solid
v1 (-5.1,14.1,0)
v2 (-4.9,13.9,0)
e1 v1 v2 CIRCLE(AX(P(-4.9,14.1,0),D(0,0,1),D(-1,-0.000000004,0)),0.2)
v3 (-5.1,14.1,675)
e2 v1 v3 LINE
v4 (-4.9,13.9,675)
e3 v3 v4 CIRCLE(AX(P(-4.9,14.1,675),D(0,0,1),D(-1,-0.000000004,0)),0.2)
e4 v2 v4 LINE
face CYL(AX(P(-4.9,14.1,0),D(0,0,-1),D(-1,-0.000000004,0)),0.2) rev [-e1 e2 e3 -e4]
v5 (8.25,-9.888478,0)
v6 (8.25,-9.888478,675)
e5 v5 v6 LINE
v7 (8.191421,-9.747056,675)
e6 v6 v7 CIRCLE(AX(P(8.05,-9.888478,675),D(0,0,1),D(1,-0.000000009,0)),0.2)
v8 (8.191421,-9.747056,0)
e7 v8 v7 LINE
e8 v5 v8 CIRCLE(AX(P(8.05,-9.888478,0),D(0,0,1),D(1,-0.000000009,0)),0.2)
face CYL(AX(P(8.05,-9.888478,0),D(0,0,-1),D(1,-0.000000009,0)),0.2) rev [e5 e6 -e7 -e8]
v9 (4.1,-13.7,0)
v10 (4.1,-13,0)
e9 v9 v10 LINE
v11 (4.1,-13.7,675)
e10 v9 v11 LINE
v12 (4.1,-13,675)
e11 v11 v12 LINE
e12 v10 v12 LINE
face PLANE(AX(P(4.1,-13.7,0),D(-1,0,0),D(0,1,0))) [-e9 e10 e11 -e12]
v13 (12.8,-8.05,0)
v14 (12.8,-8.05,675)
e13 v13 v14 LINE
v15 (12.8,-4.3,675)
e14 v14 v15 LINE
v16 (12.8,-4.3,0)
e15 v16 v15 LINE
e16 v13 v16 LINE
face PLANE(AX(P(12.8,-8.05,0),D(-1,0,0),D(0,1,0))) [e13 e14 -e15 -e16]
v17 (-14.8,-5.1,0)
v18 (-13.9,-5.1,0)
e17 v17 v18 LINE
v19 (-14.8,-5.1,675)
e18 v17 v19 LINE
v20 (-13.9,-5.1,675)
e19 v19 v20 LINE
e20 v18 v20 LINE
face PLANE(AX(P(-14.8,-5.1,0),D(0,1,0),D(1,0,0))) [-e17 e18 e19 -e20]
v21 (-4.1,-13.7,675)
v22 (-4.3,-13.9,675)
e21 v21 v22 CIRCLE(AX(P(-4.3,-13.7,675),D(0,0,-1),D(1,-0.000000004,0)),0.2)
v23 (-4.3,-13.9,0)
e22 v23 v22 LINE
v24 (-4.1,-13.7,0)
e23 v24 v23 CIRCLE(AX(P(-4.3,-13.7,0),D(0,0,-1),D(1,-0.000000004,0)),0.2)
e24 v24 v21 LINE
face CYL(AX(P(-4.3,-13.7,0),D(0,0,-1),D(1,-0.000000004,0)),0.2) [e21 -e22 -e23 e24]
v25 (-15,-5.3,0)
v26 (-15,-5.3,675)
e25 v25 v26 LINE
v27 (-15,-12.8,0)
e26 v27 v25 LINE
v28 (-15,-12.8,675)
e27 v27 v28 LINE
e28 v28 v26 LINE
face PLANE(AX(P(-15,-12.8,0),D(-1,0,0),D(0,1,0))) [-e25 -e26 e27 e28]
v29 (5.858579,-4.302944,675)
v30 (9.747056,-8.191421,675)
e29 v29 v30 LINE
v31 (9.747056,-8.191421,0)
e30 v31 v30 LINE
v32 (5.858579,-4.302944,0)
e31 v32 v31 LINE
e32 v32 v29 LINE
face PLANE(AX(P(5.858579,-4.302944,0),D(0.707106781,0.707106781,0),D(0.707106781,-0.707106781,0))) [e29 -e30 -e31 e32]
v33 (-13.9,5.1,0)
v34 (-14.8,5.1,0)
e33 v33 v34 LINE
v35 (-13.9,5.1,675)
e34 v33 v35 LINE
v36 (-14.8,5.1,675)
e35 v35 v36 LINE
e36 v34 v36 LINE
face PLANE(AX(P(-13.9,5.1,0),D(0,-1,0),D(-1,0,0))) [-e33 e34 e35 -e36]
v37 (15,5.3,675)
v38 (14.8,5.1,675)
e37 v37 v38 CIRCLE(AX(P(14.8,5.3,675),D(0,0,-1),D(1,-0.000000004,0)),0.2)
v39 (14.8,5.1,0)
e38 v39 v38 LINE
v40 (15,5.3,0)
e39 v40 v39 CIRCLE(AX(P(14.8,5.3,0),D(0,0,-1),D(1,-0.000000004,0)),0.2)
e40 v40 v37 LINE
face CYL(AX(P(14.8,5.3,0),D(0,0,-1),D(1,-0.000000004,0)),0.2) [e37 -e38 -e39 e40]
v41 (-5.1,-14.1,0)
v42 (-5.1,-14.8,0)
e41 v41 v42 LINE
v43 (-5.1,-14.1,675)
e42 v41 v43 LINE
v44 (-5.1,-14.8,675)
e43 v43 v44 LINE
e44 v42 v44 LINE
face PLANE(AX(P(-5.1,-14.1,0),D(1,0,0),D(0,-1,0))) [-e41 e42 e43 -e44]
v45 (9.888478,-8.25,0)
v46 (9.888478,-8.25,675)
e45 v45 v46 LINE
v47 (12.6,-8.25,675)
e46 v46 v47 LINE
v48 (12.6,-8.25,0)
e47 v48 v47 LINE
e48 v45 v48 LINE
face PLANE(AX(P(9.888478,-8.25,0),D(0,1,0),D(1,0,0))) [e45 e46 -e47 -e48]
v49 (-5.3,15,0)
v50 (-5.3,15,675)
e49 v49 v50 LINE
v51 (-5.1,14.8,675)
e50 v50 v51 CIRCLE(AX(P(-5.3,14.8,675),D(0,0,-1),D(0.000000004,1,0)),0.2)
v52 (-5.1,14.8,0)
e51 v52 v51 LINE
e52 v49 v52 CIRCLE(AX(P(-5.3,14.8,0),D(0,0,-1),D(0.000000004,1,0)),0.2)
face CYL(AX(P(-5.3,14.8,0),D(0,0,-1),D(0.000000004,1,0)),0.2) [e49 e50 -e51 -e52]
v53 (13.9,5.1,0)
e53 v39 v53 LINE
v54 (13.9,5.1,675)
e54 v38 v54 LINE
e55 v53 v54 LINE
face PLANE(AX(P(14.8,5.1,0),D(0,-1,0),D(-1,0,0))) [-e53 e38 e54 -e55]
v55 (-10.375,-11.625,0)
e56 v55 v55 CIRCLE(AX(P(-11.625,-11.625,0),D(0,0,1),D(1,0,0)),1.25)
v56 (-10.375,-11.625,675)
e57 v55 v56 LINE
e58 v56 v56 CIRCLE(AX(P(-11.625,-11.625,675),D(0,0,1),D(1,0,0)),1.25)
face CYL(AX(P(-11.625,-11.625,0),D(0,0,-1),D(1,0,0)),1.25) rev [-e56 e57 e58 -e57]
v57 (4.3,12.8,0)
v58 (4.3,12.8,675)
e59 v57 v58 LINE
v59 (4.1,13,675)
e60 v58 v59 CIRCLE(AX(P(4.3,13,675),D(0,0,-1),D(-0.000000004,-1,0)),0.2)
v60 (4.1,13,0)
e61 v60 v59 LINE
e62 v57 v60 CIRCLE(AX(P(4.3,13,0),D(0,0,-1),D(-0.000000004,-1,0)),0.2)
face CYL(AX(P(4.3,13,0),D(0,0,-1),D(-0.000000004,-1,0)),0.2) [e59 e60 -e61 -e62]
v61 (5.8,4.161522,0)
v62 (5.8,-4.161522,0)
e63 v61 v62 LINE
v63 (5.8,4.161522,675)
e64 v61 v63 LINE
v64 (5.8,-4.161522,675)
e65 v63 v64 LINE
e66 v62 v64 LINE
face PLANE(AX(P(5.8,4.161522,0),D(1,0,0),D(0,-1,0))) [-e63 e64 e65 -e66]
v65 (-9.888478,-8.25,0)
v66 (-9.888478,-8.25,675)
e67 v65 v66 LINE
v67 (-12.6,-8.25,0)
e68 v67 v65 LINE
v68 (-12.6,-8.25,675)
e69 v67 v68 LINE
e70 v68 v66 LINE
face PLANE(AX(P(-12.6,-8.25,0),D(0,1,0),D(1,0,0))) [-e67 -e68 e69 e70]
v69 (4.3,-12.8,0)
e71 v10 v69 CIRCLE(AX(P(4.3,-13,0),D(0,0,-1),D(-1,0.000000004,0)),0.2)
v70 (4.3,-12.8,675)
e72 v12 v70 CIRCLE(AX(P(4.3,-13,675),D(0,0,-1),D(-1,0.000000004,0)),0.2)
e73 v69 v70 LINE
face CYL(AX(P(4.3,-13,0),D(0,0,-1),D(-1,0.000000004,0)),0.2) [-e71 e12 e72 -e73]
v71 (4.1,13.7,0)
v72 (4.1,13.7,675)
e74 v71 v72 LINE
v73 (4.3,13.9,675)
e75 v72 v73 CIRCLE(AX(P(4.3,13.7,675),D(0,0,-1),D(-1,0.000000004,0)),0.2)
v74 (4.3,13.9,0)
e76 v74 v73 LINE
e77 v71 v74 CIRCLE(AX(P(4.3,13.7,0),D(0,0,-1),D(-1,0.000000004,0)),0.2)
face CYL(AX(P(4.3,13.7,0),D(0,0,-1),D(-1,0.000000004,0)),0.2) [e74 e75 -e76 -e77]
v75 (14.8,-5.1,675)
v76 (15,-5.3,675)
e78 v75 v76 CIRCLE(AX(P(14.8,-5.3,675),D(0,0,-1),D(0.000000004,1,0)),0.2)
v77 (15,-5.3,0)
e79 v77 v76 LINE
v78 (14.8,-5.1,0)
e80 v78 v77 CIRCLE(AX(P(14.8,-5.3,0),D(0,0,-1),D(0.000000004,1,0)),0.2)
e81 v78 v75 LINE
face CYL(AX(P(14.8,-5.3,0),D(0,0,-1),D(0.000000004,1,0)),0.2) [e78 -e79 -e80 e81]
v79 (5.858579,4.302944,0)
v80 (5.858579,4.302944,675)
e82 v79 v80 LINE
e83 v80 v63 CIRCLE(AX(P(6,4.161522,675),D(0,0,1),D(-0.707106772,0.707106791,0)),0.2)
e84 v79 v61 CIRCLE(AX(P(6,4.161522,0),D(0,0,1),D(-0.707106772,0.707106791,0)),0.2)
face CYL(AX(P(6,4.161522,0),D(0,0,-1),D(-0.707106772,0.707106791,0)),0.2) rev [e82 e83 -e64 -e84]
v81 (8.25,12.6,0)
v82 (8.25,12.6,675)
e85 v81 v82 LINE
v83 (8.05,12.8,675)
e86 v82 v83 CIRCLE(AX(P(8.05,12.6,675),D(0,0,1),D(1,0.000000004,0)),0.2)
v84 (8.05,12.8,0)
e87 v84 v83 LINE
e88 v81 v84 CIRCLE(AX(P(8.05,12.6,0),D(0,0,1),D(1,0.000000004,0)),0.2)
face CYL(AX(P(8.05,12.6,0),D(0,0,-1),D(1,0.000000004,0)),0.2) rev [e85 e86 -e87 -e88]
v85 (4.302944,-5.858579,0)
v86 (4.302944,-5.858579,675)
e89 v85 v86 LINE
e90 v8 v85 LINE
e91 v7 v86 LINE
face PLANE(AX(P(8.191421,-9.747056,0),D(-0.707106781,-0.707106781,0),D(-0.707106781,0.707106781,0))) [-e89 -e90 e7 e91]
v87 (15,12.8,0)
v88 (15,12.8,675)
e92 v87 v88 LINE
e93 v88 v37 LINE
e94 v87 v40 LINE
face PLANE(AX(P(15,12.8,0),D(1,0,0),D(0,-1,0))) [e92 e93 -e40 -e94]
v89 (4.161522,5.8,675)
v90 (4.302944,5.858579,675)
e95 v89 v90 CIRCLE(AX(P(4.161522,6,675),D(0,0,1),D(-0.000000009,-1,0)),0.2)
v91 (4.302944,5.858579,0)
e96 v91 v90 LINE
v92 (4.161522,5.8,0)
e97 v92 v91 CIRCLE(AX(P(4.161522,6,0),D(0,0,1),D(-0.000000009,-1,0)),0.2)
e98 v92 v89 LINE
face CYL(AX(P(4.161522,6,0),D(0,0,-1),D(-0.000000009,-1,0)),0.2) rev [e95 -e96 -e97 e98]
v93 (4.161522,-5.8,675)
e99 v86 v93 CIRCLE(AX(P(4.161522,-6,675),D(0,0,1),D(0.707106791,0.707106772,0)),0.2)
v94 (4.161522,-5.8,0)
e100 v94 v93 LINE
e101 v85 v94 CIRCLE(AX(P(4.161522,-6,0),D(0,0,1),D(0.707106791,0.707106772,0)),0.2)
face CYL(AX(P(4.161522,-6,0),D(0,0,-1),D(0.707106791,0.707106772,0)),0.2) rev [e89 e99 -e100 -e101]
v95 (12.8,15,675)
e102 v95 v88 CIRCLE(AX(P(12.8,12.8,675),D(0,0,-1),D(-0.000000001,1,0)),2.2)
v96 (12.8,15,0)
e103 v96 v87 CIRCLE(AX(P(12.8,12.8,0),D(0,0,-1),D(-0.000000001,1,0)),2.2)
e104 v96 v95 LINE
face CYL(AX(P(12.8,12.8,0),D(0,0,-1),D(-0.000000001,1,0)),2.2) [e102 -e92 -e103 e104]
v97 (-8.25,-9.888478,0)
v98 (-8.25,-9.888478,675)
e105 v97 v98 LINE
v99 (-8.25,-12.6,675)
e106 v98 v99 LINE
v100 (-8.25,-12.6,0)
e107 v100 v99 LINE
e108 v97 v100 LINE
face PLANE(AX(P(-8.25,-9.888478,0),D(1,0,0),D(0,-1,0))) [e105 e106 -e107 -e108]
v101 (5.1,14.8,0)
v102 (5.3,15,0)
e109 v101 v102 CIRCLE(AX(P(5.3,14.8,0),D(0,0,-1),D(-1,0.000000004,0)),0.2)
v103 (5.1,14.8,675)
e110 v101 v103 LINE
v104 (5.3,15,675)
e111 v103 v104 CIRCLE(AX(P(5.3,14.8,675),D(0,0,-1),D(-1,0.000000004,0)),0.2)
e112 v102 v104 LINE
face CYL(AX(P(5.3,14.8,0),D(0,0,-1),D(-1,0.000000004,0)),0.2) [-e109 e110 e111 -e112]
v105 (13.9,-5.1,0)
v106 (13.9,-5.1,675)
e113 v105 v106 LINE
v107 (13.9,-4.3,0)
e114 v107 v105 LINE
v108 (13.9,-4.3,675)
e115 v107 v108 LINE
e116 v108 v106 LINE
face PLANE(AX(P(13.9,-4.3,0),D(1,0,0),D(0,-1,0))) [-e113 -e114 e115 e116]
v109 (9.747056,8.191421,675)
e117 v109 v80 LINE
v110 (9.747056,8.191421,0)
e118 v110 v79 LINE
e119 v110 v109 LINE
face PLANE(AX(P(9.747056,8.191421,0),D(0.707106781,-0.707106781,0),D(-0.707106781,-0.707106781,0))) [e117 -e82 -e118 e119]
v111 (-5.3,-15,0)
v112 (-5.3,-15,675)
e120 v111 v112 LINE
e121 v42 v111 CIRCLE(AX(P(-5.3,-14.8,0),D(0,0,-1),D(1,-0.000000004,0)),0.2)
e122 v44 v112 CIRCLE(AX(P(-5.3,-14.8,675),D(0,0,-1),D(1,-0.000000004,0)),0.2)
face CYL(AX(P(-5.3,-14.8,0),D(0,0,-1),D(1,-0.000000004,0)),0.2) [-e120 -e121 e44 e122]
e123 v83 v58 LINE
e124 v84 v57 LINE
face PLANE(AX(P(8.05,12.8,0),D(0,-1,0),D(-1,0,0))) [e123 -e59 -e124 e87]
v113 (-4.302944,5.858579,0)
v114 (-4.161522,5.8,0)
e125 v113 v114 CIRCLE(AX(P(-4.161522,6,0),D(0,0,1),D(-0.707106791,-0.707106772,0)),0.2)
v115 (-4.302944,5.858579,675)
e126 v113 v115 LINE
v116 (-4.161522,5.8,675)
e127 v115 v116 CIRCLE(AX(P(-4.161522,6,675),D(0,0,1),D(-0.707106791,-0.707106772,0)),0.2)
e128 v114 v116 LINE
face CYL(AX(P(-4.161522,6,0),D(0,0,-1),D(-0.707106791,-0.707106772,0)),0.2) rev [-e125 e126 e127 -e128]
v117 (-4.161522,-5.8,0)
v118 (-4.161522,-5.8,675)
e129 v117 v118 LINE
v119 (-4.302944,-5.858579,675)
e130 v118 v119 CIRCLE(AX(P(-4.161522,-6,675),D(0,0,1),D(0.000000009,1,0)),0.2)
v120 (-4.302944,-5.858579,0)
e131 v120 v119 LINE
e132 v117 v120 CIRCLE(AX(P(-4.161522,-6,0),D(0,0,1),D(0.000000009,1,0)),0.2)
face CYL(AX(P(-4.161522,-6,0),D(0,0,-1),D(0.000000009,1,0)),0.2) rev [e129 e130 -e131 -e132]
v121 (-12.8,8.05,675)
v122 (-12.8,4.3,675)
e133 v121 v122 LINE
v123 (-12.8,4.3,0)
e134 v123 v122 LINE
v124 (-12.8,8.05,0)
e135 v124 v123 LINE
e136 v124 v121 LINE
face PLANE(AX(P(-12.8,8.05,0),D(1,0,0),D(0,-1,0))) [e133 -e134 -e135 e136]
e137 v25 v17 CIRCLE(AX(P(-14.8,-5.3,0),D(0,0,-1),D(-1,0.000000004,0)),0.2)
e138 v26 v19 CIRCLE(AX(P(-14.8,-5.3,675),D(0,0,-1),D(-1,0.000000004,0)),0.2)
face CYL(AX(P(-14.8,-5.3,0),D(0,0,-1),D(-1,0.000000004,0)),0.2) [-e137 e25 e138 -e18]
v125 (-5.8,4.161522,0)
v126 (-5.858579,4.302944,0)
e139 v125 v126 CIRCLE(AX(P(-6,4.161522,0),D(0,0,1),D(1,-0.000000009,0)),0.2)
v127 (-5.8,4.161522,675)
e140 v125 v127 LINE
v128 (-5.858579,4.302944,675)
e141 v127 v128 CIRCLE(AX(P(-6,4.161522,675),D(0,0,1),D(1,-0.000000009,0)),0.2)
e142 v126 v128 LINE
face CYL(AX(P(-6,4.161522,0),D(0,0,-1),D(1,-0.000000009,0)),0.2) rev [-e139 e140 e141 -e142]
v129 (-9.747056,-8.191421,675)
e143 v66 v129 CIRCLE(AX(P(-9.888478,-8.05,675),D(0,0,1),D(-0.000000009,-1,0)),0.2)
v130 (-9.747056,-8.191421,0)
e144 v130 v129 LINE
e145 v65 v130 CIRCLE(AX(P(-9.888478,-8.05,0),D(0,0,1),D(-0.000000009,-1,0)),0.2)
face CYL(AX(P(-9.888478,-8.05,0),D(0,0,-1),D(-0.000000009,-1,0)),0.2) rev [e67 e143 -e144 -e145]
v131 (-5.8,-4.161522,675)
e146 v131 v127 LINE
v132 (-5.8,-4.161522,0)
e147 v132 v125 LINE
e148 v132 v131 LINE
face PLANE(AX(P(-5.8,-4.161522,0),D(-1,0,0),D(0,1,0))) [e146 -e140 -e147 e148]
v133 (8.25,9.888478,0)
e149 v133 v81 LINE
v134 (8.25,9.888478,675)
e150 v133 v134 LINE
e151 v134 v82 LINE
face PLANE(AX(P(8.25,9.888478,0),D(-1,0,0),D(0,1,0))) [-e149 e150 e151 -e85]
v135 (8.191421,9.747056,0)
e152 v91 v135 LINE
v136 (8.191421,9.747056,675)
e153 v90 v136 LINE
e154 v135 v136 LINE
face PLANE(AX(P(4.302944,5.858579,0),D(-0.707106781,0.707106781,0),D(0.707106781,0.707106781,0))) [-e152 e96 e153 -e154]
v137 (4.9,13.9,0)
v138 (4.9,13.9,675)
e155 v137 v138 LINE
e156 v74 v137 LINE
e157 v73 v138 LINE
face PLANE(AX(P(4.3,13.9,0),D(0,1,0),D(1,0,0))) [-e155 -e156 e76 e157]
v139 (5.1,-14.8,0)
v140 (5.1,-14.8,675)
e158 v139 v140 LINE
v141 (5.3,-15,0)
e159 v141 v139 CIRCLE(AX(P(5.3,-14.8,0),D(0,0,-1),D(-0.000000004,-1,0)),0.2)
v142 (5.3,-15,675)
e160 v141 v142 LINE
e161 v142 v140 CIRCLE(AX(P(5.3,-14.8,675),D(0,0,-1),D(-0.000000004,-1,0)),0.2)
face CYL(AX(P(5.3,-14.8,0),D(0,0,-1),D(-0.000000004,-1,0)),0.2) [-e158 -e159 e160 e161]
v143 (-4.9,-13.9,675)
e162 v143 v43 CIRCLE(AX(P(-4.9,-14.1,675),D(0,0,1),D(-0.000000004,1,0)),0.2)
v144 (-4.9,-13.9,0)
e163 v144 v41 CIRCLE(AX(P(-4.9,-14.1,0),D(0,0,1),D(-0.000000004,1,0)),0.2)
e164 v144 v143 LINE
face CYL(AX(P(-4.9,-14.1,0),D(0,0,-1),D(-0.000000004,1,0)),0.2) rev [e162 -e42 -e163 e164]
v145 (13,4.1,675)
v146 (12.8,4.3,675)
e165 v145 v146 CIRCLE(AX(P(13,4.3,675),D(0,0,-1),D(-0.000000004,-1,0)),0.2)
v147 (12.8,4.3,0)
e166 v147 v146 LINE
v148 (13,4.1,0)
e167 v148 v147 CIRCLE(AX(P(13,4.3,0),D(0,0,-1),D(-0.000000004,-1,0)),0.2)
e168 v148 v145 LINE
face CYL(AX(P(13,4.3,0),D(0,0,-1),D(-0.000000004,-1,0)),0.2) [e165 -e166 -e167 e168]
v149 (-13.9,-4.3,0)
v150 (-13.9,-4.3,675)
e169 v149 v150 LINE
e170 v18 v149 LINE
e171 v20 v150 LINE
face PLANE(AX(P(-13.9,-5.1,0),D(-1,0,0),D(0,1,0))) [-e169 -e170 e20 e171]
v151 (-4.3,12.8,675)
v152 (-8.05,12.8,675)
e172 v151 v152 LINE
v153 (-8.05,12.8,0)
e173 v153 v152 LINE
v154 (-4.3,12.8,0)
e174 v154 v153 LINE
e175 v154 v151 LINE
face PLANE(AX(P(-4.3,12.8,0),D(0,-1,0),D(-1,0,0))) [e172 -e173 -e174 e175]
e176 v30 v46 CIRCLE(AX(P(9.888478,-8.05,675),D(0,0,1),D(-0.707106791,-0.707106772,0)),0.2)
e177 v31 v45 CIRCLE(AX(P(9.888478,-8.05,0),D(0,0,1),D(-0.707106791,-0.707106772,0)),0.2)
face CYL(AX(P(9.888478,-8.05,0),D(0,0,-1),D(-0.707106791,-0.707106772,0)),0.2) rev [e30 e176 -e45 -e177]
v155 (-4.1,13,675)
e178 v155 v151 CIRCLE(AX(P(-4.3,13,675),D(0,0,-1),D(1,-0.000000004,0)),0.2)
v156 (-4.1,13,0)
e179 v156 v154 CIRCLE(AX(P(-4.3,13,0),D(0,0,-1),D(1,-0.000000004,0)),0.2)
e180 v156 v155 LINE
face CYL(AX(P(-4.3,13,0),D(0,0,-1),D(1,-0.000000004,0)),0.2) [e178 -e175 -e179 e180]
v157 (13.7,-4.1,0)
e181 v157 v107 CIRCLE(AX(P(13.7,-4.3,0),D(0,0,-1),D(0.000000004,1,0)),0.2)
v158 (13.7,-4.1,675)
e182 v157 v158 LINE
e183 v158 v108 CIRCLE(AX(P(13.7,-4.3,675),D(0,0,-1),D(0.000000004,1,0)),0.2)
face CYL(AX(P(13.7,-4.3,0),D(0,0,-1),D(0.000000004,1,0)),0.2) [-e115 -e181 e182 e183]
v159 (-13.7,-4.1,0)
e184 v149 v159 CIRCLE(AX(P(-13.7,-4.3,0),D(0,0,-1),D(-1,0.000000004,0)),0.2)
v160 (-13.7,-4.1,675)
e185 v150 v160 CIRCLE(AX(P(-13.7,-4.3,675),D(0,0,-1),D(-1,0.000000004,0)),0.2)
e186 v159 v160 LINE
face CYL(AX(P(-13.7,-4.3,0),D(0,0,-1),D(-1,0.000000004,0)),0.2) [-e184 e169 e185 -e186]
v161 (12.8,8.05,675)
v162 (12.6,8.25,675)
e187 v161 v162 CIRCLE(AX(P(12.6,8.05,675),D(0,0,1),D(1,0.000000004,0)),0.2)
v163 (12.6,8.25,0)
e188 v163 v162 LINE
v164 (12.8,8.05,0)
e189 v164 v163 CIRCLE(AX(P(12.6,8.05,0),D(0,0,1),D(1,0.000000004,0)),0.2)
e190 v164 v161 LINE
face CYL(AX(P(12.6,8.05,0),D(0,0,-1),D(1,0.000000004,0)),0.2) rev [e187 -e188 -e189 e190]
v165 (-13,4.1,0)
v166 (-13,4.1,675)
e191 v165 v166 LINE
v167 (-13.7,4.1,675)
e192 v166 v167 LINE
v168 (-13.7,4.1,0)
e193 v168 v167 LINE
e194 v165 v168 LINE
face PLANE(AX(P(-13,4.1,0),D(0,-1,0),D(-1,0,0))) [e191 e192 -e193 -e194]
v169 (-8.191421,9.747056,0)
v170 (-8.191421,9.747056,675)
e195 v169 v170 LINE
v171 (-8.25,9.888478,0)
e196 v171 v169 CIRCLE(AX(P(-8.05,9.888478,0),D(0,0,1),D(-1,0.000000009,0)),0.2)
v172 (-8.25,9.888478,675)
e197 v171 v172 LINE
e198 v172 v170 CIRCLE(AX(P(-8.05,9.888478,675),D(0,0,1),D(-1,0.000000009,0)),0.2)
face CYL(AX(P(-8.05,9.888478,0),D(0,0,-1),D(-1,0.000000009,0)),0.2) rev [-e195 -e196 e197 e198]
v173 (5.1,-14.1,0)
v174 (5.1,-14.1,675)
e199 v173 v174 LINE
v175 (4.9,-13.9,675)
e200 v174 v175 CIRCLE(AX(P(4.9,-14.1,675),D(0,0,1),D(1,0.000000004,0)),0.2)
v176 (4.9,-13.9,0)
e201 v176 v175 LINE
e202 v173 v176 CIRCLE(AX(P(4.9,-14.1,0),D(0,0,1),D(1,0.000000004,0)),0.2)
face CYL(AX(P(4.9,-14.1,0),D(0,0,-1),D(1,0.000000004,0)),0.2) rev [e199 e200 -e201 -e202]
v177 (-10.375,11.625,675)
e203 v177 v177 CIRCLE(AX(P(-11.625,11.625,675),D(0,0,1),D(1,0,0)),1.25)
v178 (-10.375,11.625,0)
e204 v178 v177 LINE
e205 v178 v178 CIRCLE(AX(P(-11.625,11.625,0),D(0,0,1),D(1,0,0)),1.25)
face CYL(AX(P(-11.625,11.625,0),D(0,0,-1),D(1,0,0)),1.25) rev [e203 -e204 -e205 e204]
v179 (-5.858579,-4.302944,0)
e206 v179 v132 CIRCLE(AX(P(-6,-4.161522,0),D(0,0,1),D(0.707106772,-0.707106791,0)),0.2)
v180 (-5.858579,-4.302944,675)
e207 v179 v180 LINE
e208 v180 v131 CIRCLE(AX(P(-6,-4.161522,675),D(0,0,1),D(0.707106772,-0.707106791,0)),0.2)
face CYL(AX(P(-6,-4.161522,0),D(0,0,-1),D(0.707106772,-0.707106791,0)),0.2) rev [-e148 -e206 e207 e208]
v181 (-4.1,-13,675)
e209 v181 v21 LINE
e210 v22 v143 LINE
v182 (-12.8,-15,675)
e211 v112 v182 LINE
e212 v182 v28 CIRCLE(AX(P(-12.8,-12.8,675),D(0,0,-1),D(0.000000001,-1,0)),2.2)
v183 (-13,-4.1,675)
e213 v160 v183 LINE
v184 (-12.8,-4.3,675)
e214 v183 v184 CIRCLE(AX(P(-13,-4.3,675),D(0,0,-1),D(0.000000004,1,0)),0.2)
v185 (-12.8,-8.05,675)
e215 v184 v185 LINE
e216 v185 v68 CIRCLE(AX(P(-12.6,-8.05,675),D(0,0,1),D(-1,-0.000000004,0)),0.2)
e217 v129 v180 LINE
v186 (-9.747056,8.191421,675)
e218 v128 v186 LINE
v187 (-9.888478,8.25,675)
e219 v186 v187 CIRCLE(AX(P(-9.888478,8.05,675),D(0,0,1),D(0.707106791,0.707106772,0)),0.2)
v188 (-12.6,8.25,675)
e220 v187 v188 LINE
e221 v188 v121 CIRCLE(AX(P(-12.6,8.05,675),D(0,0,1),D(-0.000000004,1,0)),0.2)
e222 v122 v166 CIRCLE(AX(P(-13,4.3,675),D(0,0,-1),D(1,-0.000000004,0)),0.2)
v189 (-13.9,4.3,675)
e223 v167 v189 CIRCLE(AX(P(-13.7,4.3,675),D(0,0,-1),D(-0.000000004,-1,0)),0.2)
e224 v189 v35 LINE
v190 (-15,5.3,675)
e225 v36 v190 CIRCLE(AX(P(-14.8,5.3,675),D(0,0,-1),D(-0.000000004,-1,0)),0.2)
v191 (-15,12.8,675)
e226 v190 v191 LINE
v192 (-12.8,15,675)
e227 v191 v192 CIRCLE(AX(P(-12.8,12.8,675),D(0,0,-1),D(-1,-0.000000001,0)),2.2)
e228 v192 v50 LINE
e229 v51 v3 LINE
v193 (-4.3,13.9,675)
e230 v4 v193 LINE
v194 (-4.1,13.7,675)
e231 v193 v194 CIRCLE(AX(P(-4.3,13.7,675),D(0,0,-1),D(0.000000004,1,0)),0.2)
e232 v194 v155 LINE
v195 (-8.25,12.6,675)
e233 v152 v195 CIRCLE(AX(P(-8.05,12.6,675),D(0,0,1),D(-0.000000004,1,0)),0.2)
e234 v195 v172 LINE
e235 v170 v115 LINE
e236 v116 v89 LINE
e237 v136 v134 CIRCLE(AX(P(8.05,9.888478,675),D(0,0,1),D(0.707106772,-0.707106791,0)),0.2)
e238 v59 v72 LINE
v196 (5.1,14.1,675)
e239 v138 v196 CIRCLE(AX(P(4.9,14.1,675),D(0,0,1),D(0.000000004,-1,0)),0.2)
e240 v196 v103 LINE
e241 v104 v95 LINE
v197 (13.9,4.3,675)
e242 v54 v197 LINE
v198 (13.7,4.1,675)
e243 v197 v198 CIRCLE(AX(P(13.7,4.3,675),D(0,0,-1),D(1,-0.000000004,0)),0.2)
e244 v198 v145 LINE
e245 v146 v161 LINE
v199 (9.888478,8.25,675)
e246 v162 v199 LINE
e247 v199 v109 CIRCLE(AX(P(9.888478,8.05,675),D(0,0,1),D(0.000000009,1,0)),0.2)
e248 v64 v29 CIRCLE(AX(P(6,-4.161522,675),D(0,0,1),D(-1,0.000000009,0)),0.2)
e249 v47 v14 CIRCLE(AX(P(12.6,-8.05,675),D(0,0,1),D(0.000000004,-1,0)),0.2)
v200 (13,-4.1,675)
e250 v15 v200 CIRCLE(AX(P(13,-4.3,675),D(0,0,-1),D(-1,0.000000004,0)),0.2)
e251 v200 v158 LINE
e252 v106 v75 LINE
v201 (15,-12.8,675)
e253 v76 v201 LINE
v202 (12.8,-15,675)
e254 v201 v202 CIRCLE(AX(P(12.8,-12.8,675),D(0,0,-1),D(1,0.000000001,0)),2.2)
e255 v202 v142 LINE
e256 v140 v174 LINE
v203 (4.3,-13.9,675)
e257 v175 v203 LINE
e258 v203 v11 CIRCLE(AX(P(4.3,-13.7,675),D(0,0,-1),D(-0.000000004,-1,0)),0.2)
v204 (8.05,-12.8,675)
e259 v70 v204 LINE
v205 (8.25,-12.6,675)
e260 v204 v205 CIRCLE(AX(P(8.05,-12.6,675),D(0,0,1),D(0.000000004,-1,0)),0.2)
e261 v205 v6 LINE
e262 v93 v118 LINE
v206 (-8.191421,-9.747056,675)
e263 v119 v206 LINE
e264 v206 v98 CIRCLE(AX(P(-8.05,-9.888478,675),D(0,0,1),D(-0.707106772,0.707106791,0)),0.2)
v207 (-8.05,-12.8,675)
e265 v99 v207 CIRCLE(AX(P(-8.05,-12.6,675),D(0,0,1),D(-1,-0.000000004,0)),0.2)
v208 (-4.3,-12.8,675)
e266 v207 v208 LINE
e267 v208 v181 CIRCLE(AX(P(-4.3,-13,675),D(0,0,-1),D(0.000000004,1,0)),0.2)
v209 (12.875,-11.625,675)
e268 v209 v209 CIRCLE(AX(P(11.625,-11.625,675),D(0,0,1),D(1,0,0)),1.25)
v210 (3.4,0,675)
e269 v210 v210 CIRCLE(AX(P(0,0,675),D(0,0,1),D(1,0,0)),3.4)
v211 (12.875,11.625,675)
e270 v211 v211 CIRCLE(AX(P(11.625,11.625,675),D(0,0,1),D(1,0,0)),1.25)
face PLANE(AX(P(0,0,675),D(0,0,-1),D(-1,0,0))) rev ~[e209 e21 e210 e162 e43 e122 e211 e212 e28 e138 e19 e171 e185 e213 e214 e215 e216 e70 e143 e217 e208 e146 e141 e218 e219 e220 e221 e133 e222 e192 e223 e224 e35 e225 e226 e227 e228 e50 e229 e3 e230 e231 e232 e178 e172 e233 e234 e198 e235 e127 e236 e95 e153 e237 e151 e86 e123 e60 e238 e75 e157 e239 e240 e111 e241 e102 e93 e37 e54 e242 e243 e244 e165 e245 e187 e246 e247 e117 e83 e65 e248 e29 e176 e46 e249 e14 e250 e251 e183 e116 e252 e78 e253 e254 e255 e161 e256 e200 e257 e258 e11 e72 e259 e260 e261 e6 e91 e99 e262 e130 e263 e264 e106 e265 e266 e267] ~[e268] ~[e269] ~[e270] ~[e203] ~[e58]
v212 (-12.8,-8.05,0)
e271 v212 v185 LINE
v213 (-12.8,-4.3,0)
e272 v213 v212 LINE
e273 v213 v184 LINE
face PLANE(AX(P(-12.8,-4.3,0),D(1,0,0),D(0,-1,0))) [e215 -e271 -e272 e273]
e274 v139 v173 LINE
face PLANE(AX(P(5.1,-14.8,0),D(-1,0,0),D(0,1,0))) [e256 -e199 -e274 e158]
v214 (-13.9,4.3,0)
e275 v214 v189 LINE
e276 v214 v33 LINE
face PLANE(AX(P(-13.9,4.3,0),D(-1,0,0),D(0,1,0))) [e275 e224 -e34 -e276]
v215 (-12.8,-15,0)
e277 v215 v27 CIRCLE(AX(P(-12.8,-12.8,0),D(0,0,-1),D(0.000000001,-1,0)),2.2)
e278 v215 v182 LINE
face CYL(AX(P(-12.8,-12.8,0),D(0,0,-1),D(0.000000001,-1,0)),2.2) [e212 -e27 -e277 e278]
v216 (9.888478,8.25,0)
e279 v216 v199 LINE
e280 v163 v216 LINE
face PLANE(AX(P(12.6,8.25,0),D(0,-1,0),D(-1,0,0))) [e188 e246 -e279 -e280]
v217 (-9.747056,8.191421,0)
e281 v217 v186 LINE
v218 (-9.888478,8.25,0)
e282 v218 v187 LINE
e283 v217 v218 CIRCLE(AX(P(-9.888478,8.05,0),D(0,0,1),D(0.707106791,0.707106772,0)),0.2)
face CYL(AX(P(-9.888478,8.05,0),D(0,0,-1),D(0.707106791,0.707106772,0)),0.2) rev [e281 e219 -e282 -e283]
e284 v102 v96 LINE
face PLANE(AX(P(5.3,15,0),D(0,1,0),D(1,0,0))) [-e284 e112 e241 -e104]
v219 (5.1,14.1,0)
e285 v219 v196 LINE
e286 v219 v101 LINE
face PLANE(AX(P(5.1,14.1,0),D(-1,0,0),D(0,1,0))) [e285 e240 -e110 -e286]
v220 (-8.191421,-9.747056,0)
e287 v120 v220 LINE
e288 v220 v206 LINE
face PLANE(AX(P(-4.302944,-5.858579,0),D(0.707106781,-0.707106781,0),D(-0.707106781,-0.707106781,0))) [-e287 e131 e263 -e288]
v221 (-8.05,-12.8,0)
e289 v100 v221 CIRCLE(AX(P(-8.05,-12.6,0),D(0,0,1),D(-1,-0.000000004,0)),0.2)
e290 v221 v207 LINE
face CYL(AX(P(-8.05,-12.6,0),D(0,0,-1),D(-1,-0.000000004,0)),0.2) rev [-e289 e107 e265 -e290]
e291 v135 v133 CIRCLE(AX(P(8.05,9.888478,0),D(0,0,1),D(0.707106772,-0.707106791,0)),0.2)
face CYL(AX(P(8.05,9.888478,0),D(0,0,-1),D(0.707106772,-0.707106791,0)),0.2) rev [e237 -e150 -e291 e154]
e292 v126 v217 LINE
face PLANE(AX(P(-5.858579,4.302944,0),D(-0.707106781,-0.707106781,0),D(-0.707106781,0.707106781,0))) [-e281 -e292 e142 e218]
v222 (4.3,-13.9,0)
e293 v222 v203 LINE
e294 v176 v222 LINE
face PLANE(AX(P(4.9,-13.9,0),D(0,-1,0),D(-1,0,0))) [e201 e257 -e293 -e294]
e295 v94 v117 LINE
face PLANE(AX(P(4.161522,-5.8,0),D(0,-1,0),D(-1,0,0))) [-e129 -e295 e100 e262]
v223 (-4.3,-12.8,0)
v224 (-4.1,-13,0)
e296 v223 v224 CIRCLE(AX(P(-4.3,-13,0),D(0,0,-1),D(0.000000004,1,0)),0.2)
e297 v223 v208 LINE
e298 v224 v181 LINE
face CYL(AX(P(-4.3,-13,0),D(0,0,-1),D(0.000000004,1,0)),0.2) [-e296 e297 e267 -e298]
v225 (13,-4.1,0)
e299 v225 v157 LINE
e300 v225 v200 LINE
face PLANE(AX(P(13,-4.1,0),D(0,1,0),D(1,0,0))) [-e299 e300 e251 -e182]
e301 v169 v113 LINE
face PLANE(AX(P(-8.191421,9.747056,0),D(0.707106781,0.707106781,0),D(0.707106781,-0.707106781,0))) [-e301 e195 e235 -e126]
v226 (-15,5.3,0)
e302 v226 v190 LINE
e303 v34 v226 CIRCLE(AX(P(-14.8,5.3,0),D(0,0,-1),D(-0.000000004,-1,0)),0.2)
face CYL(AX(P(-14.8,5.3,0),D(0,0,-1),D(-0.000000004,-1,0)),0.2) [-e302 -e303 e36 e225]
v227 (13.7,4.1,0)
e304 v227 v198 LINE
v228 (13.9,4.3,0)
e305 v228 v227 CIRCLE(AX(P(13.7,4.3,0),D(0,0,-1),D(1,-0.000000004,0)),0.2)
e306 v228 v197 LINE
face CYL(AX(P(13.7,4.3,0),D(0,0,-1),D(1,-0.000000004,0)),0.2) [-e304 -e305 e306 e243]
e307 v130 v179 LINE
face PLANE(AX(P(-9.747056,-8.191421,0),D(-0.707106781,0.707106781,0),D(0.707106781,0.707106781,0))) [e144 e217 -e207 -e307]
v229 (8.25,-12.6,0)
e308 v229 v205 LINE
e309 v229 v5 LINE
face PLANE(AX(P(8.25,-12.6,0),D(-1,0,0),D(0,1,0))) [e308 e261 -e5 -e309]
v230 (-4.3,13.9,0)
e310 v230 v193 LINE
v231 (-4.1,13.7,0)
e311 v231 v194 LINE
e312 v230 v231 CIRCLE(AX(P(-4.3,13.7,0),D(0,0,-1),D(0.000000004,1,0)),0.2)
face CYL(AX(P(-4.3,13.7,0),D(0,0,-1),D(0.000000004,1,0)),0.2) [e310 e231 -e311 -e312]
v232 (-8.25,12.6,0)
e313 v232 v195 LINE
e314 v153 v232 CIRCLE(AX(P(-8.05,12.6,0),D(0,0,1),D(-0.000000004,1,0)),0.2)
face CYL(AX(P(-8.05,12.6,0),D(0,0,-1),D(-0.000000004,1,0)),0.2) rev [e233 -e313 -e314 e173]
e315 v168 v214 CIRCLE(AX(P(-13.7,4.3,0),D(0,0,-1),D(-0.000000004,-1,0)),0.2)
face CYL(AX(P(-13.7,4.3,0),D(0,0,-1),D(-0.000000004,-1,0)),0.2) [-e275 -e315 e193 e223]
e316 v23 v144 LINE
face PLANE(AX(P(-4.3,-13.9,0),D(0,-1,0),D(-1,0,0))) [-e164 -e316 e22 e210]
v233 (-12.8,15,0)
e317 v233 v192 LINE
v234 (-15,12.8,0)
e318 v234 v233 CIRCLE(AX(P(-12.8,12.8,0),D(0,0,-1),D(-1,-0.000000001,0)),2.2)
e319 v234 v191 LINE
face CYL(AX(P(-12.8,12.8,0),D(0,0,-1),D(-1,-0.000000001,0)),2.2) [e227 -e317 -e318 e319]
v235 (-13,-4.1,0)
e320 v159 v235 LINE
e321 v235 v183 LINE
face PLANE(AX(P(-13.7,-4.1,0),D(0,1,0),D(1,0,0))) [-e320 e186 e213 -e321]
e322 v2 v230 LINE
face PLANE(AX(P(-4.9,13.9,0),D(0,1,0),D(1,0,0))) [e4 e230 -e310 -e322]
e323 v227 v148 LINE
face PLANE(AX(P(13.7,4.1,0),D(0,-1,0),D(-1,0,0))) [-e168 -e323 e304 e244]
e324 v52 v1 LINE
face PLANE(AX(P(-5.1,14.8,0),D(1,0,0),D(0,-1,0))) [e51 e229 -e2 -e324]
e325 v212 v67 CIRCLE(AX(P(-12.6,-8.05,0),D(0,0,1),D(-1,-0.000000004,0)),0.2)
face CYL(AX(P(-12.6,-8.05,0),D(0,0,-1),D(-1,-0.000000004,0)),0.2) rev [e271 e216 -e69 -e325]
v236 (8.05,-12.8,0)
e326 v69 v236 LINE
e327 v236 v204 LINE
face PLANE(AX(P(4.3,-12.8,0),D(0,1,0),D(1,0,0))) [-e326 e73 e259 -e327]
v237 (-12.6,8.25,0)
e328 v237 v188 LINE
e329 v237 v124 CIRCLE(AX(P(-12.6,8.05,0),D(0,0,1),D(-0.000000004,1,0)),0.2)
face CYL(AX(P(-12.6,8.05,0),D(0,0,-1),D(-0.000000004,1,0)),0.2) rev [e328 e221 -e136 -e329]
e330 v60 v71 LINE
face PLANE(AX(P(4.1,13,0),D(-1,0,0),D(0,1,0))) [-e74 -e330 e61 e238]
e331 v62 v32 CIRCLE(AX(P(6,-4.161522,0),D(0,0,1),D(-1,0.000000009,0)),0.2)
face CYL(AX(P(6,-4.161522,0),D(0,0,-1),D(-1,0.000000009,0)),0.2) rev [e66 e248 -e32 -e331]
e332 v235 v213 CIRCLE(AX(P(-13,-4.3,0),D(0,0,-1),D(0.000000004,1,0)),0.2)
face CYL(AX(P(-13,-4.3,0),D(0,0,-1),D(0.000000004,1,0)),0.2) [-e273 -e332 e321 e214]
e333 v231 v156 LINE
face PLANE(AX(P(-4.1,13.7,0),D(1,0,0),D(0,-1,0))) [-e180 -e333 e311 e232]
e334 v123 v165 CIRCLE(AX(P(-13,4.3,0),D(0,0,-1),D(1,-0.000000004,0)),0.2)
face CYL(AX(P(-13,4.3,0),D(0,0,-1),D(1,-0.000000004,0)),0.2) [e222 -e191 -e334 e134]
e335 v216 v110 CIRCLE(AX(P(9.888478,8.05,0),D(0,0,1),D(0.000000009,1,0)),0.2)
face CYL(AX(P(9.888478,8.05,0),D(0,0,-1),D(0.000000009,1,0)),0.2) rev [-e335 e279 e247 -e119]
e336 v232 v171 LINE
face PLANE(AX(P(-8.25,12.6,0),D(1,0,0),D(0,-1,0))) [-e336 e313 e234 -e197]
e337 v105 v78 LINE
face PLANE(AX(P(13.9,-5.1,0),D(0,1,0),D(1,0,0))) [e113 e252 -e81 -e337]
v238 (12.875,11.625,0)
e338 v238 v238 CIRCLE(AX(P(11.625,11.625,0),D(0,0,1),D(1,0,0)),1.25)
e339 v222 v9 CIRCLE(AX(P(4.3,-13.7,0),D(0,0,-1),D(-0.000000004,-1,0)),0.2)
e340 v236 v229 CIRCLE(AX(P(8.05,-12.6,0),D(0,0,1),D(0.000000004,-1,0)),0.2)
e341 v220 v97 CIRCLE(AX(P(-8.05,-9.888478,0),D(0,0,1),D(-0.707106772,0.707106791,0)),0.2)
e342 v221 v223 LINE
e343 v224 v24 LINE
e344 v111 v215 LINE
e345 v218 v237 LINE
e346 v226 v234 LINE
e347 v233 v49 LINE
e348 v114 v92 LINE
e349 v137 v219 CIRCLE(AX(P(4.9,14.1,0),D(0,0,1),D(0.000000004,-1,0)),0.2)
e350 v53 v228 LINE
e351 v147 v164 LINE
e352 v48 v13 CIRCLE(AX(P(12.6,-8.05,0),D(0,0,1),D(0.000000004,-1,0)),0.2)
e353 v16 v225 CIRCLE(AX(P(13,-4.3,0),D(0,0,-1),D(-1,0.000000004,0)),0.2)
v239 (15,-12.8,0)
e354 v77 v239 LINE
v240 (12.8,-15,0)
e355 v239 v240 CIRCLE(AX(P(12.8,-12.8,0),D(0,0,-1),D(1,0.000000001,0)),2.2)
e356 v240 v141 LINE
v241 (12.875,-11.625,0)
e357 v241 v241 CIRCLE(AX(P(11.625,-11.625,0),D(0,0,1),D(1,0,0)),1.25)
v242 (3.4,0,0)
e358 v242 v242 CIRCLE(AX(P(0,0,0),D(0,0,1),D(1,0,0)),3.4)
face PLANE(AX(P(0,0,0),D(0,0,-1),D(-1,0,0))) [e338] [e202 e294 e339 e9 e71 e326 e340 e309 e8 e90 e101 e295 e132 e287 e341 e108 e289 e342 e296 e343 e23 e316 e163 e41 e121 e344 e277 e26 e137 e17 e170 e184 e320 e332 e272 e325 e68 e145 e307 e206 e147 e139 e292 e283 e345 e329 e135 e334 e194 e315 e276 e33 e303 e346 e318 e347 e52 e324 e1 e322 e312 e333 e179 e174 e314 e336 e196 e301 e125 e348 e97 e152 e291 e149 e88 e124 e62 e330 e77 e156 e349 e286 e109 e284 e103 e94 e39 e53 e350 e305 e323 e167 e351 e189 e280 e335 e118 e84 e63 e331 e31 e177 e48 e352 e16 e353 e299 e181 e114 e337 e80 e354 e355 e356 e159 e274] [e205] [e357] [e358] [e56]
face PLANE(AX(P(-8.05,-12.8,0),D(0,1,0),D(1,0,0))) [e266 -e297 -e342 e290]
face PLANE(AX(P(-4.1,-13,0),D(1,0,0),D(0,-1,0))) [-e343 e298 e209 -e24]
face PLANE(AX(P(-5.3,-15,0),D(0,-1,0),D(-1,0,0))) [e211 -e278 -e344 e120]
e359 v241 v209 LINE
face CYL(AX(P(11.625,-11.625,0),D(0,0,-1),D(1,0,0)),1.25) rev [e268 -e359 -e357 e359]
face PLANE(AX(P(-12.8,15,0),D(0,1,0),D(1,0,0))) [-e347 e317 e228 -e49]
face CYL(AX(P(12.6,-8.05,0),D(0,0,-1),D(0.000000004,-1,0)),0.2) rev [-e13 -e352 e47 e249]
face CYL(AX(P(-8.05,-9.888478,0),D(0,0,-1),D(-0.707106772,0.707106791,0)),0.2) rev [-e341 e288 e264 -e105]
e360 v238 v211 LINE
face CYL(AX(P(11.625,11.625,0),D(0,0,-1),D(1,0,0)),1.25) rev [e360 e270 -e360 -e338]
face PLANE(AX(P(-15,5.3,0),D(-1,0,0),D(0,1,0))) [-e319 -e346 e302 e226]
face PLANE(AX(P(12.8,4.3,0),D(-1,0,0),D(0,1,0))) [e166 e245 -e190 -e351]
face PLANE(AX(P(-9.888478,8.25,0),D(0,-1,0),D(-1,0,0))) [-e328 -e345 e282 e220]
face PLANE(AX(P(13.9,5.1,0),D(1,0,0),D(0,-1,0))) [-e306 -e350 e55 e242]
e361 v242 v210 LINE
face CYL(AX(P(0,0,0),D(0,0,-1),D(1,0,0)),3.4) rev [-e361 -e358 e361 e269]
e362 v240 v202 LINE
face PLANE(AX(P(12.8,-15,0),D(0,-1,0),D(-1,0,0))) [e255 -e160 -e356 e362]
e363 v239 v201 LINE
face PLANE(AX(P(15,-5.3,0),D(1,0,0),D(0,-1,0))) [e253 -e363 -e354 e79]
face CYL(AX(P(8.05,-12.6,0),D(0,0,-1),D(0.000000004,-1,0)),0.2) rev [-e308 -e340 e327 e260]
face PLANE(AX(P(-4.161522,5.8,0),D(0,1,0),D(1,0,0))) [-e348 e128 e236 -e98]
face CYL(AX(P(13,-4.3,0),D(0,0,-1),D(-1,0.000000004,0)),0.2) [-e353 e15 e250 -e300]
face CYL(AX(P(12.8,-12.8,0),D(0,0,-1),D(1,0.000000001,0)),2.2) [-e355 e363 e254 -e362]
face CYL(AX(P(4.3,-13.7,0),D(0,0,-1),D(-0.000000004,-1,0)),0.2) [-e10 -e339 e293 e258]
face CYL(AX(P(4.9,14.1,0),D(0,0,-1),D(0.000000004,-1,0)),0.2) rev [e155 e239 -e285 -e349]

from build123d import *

# Parameters (mm, degrees)
CROQUIS1_R              = 1.25
CROQUIS1_R_2            = 3.4
SALIENTE_EXTRUIR1_DEPTH = 675


with BuildPart() as part:
    # Croquis1 → Saliente-Extruir1 (new body)
    with BuildSketch(Plane.XY):
        with BuildLine():
            Line((-4.161522369, 5.8), (4.161522369, 5.8))
            ThreePointArc((4.161522369, 5.8), (4.238059055, 5.815224093), (4.302943725, 5.858578644))
            Line((4.302943725, 5.858578644), (8.191421356, 9.747056275))
            ThreePointArc((8.191421356, 9.747056275), (8.234775907, 9.811940945), (8.25, 9.888477631))
            Line((8.25, 9.888477631), (8.25, 12.6))
            ThreePointArc((8.25, 12.6), (8.191421356, 12.741421356), (8.05, 12.8))
            Line((8.05, 12.8), (4.3, 12.8))
            ThreePointArc((4.3, 12.8), (4.158578644, 12.858578644), (4.1, 13))
            Line((4.1, 13), (4.1, 13.7))
            ThreePointArc((4.1, 13.7), (4.158578644, 13.841421356), (4.3, 13.9))
            Line((4.3, 13.9), (4.9, 13.9))
            ThreePointArc((4.9, 13.9), (5.041421356, 13.958578644), (5.1, 14.1))
            Line((5.1, 14.1), (5.1, 14.8))
            ThreePointArc((5.1, 14.8), (5.158578644, 14.941421356), (5.3, 15))
            Line((5.3, 15), (12.8, 15))
            ThreePointArc((12.8, 15), (14.355634919, 14.355634919), (15, 12.8))
            Line((15, 12.8), (15, 5.3))
            ThreePointArc((15, 5.3), (14.941421356, 5.158578644), (14.8, 5.1))
            Line((14.8, 5.1), (13.9, 5.1))
            Line((13.9, 5.1), (13.9, 4.3))
            ThreePointArc((13.9, 4.3), (13.841421356, 4.158578644), (13.7, 4.1))
            Line((13.7, 4.1), (13, 4.1))
            ThreePointArc((13, 4.1), (12.858578644, 4.158578644), (12.8, 4.3))
            Line((12.8, 4.3), (12.8, 8.05))
            ThreePointArc((12.8, 8.05), (12.741421356, 8.191421356), (12.6, 8.25))
            Line((12.6, 8.25), (9.888477631, 8.25))
            ThreePointArc((9.888477631, 8.25), (9.811940945, 8.234775907), (9.747056275, 8.191421356))
            Line((9.747056275, 8.191421356), (5.858578644, 4.302943725))
            ThreePointArc((5.858578644, 4.302943725), (5.815224093, 4.238059055), (5.8, 4.161522369))
            Line((5.8, 4.161522369), (5.8, -4.161522369))
            ThreePointArc((5.8, -4.161522369), (5.815224093, -4.238059055), (5.858578644, -4.302943725))
            Line((5.858578644, -4.302943725), (9.747056275, -8.191421356))
            ThreePointArc((9.747056275, -8.191421356), (9.811940945, -8.234775907), (9.888477631, -8.25))
            Line((9.888477631, -8.25), (12.6, -8.25))
            ThreePointArc((12.6, -8.25), (12.741421356, -8.191421356), (12.8, -8.05))
            Line((12.8, -8.05), (12.8, -4.3))
            ThreePointArc((12.8, -4.3), (12.858578644, -4.158578644), (13, -4.1))
            Line((13, -4.1), (13.7, -4.1))
            ThreePointArc((13.7, -4.1), (13.841421356, -4.158578644), (13.9, -4.3))
            Line((13.9, -4.3), (13.9, -5.1))
            Line((13.9, -5.1), (14.8, -5.1))
            ThreePointArc((14.8, -5.1), (14.941421356, -5.158578644), (15, -5.3))
            Line((15, -5.3), (15, -12.8))
            ThreePointArc((15, -12.8), (14.355634919, -14.355634919), (12.8, -15))
            Line((12.8, -15), (5.3, -15))
            ThreePointArc((5.3, -15), (5.158578644, -14.941421356), (5.1, -14.8))
            Line((5.1, -14.8), (5.1, -14.1))
            ThreePointArc((5.1, -14.1), (5.041421356, -13.958578644), (4.9, -13.9))
            Line((4.9, -13.9), (4.3, -13.9))
            ThreePointArc((4.3, -13.9), (4.158578644, -13.841421356), (4.1, -13.7))
            Line((4.1, -13.7), (4.1, -13))
            ThreePointArc((4.1, -13), (4.158578644, -12.858578644), (4.3, -12.8))
            Line((4.3, -12.8), (8.05, -12.8))
            ThreePointArc((8.05, -12.8), (8.191421356, -12.741421356), (8.25, -12.6))
            Line((8.25, -12.6), (8.25, -9.888477631))
            ThreePointArc((8.25, -9.888477631), (8.234775907, -9.811940945), (8.191421356, -9.747056275))
            Line((8.191421356, -9.747056275), (4.302943725, -5.858578644))
            ThreePointArc((4.302943725, -5.858578644), (4.238059055, -5.815224093), (4.161522369, -5.8))
            Line((4.161522369, -5.8), (-4.161522369, -5.8))
            ThreePointArc((-4.161522369, -5.8), (-4.238059055, -5.815224093), (-4.302943725, -5.858578644))
            Line((-4.302943725, -5.858578644), (-8.191421356, -9.747056275))
            ThreePointArc((-8.191421356, -9.747056275), (-8.234775907, -9.811940945), (-8.25, -9.888477631))
            Line((-8.25, -9.888477631), (-8.25, -12.6))
            ThreePointArc((-8.25, -12.6), (-8.191421356, -12.741421356), (-8.05, -12.8))
            Line((-8.05, -12.8), (-4.3, -12.8))
            ThreePointArc((-4.3, -12.8), (-4.158578644, -12.858578644), (-4.1, -13))
            Line((-4.1, -13), (-4.1, -13.7))
            ThreePointArc((-4.1, -13.7), (-4.158578644, -13.841421356), (-4.3, -13.9))
            Line((-4.3, -13.9), (-4.9, -13.9))
            ThreePointArc((-4.9, -13.9), (-5.041421356, -13.958578644), (-5.1, -14.1))
            Line((-5.1, -14.1), (-5.1, -14.8))
            ThreePointArc((-5.1, -14.8), (-5.158578644, -14.941421356), (-5.3, -15))
            Line((-5.3, -15), (-12.8, -15))
            ThreePointArc((-12.8, -15), (-14.355634919, -14.355634919), (-15, -12.8))
            Line((-15, -12.8), (-15, -5.3))
            ThreePointArc((-15, -5.3), (-14.941421356, -5.158578644), (-14.8, -5.1))
            Line((-14.8, -5.1), (-13.9, -5.1))
            Line((-13.9, -5.1), (-13.9, -4.3))
            ThreePointArc((-13.9, -4.3), (-13.841421356, -4.158578644), (-13.7, -4.1))
            Line((-13.7, -4.1), (-13, -4.1))
            ThreePointArc((-13, -4.1), (-12.858578644, -4.158578644), (-12.8, -4.3))
            Line((-12.8, -4.3), (-12.8, -8.05))
            ThreePointArc((-12.8, -8.05), (-12.741421356, -8.191421356), (-12.6, -8.25))
            Line((-12.6, -8.25), (-9.888477631, -8.25))
            ThreePointArc((-9.888477631, -8.25), (-9.811940945, -8.234775907), (-9.747056275, -8.191421356))
            Line((-9.747056275, -8.191421356), (-5.858578644, -4.302943725))
            ThreePointArc((-5.858578644, -4.302943725), (-5.815224093, -4.238059055), (-5.8, -4.161522369))
            Line((-5.8, -4.161522369), (-5.8, 4.161522369))
            ThreePointArc((-5.8, 4.161522369), (-5.815224093, 4.238059055), (-5.858578644, 4.302943725))
            Line((-5.858578644, 4.302943725), (-9.747056275, 8.191421356))
            ThreePointArc((-9.747056275, 8.191421356), (-9.811940945, 8.234775907), (-9.888477631, 8.25))
            Line((-9.888477631, 8.25), (-12.6, 8.25))
            ThreePointArc((-12.6, 8.25), (-12.741421356, 8.191421356), (-12.8, 8.05))
            Line((-12.8, 8.05), (-12.8, 4.3))
            ThreePointArc((-12.8, 4.3), (-12.858578644, 4.158578644), (-13, 4.1))
            Line((-13, 4.1), (-13.7, 4.1))
            ThreePointArc((-13.7, 4.1), (-13.841421356, 4.158578644), (-13.9, 4.3))
            Line((-13.9, 4.3), (-13.9, 5.1))
            Line((-13.9, 5.1), (-14.8, 5.1))
            ThreePointArc((-14.8, 5.1), (-14.941421356, 5.158578644), (-15, 5.3))
            Line((-15, 5.3), (-15, 12.8))
            ThreePointArc((-15, 12.8), (-14.355634919, 14.355634919), (-12.8, 15))
            Line((-12.8, 15), (-5.3, 15))
            ThreePointArc((-5.3, 15), (-5.158578644, 14.941421356), (-5.1, 14.8))
            Line((-5.1, 14.8), (-5.1, 14.1))
            ThreePointArc((-5.1, 14.1), (-5.041421356, 13.958578644), (-4.9, 13.9))
            Line((-4.9, 13.9), (-4.3, 13.9))
            ThreePointArc((-4.3, 13.9), (-4.158578644, 13.841421356), (-4.1, 13.7))
            Line((-4.1, 13.7), (-4.1, 13))
            ThreePointArc((-4.1, 13), (-4.158578644, 12.858578644), (-4.3, 12.8))
            Line((-4.3, 12.8), (-8.05, 12.8))
            ThreePointArc((-8.05, 12.8), (-8.191421356, 12.741421356), (-8.25, 12.6))
            Line((-8.25, 12.6), (-8.25, 9.888477631))
            ThreePointArc((-8.25, 9.888477631), (-8.234775907, 9.811940945), (-8.191421356, 9.747056275))
            Line((-8.191421356, 9.747056275), (-4.302943725, 5.858578644))
            ThreePointArc((-4.302943725, 5.858578644), (-4.238059055, 5.815224093), (-4.161522369, 5.8))
        make_face()
        with Locations((11.625, 11.625)):
            Circle(CROQUIS1_R, mode=Mode.SUBTRACT)
        with Locations((11.625, -11.625)):
            Circle(CROQUIS1_R, mode=Mode.SUBTRACT)
        with Locations((-11.625, -11.625)):
            Circle(CROQUIS1_R, mode=Mode.SUBTRACT)
        with Locations((-11.625, 11.625)):
            Circle(CROQUIS1_R, mode=Mode.SUBTRACT)
        Circle(CROQUIS1_R_2, mode=Mode.SUBTRACT)
    extrude(amount=SALIENTE_EXTRUIR1_DEPTH)


solid = part.part
